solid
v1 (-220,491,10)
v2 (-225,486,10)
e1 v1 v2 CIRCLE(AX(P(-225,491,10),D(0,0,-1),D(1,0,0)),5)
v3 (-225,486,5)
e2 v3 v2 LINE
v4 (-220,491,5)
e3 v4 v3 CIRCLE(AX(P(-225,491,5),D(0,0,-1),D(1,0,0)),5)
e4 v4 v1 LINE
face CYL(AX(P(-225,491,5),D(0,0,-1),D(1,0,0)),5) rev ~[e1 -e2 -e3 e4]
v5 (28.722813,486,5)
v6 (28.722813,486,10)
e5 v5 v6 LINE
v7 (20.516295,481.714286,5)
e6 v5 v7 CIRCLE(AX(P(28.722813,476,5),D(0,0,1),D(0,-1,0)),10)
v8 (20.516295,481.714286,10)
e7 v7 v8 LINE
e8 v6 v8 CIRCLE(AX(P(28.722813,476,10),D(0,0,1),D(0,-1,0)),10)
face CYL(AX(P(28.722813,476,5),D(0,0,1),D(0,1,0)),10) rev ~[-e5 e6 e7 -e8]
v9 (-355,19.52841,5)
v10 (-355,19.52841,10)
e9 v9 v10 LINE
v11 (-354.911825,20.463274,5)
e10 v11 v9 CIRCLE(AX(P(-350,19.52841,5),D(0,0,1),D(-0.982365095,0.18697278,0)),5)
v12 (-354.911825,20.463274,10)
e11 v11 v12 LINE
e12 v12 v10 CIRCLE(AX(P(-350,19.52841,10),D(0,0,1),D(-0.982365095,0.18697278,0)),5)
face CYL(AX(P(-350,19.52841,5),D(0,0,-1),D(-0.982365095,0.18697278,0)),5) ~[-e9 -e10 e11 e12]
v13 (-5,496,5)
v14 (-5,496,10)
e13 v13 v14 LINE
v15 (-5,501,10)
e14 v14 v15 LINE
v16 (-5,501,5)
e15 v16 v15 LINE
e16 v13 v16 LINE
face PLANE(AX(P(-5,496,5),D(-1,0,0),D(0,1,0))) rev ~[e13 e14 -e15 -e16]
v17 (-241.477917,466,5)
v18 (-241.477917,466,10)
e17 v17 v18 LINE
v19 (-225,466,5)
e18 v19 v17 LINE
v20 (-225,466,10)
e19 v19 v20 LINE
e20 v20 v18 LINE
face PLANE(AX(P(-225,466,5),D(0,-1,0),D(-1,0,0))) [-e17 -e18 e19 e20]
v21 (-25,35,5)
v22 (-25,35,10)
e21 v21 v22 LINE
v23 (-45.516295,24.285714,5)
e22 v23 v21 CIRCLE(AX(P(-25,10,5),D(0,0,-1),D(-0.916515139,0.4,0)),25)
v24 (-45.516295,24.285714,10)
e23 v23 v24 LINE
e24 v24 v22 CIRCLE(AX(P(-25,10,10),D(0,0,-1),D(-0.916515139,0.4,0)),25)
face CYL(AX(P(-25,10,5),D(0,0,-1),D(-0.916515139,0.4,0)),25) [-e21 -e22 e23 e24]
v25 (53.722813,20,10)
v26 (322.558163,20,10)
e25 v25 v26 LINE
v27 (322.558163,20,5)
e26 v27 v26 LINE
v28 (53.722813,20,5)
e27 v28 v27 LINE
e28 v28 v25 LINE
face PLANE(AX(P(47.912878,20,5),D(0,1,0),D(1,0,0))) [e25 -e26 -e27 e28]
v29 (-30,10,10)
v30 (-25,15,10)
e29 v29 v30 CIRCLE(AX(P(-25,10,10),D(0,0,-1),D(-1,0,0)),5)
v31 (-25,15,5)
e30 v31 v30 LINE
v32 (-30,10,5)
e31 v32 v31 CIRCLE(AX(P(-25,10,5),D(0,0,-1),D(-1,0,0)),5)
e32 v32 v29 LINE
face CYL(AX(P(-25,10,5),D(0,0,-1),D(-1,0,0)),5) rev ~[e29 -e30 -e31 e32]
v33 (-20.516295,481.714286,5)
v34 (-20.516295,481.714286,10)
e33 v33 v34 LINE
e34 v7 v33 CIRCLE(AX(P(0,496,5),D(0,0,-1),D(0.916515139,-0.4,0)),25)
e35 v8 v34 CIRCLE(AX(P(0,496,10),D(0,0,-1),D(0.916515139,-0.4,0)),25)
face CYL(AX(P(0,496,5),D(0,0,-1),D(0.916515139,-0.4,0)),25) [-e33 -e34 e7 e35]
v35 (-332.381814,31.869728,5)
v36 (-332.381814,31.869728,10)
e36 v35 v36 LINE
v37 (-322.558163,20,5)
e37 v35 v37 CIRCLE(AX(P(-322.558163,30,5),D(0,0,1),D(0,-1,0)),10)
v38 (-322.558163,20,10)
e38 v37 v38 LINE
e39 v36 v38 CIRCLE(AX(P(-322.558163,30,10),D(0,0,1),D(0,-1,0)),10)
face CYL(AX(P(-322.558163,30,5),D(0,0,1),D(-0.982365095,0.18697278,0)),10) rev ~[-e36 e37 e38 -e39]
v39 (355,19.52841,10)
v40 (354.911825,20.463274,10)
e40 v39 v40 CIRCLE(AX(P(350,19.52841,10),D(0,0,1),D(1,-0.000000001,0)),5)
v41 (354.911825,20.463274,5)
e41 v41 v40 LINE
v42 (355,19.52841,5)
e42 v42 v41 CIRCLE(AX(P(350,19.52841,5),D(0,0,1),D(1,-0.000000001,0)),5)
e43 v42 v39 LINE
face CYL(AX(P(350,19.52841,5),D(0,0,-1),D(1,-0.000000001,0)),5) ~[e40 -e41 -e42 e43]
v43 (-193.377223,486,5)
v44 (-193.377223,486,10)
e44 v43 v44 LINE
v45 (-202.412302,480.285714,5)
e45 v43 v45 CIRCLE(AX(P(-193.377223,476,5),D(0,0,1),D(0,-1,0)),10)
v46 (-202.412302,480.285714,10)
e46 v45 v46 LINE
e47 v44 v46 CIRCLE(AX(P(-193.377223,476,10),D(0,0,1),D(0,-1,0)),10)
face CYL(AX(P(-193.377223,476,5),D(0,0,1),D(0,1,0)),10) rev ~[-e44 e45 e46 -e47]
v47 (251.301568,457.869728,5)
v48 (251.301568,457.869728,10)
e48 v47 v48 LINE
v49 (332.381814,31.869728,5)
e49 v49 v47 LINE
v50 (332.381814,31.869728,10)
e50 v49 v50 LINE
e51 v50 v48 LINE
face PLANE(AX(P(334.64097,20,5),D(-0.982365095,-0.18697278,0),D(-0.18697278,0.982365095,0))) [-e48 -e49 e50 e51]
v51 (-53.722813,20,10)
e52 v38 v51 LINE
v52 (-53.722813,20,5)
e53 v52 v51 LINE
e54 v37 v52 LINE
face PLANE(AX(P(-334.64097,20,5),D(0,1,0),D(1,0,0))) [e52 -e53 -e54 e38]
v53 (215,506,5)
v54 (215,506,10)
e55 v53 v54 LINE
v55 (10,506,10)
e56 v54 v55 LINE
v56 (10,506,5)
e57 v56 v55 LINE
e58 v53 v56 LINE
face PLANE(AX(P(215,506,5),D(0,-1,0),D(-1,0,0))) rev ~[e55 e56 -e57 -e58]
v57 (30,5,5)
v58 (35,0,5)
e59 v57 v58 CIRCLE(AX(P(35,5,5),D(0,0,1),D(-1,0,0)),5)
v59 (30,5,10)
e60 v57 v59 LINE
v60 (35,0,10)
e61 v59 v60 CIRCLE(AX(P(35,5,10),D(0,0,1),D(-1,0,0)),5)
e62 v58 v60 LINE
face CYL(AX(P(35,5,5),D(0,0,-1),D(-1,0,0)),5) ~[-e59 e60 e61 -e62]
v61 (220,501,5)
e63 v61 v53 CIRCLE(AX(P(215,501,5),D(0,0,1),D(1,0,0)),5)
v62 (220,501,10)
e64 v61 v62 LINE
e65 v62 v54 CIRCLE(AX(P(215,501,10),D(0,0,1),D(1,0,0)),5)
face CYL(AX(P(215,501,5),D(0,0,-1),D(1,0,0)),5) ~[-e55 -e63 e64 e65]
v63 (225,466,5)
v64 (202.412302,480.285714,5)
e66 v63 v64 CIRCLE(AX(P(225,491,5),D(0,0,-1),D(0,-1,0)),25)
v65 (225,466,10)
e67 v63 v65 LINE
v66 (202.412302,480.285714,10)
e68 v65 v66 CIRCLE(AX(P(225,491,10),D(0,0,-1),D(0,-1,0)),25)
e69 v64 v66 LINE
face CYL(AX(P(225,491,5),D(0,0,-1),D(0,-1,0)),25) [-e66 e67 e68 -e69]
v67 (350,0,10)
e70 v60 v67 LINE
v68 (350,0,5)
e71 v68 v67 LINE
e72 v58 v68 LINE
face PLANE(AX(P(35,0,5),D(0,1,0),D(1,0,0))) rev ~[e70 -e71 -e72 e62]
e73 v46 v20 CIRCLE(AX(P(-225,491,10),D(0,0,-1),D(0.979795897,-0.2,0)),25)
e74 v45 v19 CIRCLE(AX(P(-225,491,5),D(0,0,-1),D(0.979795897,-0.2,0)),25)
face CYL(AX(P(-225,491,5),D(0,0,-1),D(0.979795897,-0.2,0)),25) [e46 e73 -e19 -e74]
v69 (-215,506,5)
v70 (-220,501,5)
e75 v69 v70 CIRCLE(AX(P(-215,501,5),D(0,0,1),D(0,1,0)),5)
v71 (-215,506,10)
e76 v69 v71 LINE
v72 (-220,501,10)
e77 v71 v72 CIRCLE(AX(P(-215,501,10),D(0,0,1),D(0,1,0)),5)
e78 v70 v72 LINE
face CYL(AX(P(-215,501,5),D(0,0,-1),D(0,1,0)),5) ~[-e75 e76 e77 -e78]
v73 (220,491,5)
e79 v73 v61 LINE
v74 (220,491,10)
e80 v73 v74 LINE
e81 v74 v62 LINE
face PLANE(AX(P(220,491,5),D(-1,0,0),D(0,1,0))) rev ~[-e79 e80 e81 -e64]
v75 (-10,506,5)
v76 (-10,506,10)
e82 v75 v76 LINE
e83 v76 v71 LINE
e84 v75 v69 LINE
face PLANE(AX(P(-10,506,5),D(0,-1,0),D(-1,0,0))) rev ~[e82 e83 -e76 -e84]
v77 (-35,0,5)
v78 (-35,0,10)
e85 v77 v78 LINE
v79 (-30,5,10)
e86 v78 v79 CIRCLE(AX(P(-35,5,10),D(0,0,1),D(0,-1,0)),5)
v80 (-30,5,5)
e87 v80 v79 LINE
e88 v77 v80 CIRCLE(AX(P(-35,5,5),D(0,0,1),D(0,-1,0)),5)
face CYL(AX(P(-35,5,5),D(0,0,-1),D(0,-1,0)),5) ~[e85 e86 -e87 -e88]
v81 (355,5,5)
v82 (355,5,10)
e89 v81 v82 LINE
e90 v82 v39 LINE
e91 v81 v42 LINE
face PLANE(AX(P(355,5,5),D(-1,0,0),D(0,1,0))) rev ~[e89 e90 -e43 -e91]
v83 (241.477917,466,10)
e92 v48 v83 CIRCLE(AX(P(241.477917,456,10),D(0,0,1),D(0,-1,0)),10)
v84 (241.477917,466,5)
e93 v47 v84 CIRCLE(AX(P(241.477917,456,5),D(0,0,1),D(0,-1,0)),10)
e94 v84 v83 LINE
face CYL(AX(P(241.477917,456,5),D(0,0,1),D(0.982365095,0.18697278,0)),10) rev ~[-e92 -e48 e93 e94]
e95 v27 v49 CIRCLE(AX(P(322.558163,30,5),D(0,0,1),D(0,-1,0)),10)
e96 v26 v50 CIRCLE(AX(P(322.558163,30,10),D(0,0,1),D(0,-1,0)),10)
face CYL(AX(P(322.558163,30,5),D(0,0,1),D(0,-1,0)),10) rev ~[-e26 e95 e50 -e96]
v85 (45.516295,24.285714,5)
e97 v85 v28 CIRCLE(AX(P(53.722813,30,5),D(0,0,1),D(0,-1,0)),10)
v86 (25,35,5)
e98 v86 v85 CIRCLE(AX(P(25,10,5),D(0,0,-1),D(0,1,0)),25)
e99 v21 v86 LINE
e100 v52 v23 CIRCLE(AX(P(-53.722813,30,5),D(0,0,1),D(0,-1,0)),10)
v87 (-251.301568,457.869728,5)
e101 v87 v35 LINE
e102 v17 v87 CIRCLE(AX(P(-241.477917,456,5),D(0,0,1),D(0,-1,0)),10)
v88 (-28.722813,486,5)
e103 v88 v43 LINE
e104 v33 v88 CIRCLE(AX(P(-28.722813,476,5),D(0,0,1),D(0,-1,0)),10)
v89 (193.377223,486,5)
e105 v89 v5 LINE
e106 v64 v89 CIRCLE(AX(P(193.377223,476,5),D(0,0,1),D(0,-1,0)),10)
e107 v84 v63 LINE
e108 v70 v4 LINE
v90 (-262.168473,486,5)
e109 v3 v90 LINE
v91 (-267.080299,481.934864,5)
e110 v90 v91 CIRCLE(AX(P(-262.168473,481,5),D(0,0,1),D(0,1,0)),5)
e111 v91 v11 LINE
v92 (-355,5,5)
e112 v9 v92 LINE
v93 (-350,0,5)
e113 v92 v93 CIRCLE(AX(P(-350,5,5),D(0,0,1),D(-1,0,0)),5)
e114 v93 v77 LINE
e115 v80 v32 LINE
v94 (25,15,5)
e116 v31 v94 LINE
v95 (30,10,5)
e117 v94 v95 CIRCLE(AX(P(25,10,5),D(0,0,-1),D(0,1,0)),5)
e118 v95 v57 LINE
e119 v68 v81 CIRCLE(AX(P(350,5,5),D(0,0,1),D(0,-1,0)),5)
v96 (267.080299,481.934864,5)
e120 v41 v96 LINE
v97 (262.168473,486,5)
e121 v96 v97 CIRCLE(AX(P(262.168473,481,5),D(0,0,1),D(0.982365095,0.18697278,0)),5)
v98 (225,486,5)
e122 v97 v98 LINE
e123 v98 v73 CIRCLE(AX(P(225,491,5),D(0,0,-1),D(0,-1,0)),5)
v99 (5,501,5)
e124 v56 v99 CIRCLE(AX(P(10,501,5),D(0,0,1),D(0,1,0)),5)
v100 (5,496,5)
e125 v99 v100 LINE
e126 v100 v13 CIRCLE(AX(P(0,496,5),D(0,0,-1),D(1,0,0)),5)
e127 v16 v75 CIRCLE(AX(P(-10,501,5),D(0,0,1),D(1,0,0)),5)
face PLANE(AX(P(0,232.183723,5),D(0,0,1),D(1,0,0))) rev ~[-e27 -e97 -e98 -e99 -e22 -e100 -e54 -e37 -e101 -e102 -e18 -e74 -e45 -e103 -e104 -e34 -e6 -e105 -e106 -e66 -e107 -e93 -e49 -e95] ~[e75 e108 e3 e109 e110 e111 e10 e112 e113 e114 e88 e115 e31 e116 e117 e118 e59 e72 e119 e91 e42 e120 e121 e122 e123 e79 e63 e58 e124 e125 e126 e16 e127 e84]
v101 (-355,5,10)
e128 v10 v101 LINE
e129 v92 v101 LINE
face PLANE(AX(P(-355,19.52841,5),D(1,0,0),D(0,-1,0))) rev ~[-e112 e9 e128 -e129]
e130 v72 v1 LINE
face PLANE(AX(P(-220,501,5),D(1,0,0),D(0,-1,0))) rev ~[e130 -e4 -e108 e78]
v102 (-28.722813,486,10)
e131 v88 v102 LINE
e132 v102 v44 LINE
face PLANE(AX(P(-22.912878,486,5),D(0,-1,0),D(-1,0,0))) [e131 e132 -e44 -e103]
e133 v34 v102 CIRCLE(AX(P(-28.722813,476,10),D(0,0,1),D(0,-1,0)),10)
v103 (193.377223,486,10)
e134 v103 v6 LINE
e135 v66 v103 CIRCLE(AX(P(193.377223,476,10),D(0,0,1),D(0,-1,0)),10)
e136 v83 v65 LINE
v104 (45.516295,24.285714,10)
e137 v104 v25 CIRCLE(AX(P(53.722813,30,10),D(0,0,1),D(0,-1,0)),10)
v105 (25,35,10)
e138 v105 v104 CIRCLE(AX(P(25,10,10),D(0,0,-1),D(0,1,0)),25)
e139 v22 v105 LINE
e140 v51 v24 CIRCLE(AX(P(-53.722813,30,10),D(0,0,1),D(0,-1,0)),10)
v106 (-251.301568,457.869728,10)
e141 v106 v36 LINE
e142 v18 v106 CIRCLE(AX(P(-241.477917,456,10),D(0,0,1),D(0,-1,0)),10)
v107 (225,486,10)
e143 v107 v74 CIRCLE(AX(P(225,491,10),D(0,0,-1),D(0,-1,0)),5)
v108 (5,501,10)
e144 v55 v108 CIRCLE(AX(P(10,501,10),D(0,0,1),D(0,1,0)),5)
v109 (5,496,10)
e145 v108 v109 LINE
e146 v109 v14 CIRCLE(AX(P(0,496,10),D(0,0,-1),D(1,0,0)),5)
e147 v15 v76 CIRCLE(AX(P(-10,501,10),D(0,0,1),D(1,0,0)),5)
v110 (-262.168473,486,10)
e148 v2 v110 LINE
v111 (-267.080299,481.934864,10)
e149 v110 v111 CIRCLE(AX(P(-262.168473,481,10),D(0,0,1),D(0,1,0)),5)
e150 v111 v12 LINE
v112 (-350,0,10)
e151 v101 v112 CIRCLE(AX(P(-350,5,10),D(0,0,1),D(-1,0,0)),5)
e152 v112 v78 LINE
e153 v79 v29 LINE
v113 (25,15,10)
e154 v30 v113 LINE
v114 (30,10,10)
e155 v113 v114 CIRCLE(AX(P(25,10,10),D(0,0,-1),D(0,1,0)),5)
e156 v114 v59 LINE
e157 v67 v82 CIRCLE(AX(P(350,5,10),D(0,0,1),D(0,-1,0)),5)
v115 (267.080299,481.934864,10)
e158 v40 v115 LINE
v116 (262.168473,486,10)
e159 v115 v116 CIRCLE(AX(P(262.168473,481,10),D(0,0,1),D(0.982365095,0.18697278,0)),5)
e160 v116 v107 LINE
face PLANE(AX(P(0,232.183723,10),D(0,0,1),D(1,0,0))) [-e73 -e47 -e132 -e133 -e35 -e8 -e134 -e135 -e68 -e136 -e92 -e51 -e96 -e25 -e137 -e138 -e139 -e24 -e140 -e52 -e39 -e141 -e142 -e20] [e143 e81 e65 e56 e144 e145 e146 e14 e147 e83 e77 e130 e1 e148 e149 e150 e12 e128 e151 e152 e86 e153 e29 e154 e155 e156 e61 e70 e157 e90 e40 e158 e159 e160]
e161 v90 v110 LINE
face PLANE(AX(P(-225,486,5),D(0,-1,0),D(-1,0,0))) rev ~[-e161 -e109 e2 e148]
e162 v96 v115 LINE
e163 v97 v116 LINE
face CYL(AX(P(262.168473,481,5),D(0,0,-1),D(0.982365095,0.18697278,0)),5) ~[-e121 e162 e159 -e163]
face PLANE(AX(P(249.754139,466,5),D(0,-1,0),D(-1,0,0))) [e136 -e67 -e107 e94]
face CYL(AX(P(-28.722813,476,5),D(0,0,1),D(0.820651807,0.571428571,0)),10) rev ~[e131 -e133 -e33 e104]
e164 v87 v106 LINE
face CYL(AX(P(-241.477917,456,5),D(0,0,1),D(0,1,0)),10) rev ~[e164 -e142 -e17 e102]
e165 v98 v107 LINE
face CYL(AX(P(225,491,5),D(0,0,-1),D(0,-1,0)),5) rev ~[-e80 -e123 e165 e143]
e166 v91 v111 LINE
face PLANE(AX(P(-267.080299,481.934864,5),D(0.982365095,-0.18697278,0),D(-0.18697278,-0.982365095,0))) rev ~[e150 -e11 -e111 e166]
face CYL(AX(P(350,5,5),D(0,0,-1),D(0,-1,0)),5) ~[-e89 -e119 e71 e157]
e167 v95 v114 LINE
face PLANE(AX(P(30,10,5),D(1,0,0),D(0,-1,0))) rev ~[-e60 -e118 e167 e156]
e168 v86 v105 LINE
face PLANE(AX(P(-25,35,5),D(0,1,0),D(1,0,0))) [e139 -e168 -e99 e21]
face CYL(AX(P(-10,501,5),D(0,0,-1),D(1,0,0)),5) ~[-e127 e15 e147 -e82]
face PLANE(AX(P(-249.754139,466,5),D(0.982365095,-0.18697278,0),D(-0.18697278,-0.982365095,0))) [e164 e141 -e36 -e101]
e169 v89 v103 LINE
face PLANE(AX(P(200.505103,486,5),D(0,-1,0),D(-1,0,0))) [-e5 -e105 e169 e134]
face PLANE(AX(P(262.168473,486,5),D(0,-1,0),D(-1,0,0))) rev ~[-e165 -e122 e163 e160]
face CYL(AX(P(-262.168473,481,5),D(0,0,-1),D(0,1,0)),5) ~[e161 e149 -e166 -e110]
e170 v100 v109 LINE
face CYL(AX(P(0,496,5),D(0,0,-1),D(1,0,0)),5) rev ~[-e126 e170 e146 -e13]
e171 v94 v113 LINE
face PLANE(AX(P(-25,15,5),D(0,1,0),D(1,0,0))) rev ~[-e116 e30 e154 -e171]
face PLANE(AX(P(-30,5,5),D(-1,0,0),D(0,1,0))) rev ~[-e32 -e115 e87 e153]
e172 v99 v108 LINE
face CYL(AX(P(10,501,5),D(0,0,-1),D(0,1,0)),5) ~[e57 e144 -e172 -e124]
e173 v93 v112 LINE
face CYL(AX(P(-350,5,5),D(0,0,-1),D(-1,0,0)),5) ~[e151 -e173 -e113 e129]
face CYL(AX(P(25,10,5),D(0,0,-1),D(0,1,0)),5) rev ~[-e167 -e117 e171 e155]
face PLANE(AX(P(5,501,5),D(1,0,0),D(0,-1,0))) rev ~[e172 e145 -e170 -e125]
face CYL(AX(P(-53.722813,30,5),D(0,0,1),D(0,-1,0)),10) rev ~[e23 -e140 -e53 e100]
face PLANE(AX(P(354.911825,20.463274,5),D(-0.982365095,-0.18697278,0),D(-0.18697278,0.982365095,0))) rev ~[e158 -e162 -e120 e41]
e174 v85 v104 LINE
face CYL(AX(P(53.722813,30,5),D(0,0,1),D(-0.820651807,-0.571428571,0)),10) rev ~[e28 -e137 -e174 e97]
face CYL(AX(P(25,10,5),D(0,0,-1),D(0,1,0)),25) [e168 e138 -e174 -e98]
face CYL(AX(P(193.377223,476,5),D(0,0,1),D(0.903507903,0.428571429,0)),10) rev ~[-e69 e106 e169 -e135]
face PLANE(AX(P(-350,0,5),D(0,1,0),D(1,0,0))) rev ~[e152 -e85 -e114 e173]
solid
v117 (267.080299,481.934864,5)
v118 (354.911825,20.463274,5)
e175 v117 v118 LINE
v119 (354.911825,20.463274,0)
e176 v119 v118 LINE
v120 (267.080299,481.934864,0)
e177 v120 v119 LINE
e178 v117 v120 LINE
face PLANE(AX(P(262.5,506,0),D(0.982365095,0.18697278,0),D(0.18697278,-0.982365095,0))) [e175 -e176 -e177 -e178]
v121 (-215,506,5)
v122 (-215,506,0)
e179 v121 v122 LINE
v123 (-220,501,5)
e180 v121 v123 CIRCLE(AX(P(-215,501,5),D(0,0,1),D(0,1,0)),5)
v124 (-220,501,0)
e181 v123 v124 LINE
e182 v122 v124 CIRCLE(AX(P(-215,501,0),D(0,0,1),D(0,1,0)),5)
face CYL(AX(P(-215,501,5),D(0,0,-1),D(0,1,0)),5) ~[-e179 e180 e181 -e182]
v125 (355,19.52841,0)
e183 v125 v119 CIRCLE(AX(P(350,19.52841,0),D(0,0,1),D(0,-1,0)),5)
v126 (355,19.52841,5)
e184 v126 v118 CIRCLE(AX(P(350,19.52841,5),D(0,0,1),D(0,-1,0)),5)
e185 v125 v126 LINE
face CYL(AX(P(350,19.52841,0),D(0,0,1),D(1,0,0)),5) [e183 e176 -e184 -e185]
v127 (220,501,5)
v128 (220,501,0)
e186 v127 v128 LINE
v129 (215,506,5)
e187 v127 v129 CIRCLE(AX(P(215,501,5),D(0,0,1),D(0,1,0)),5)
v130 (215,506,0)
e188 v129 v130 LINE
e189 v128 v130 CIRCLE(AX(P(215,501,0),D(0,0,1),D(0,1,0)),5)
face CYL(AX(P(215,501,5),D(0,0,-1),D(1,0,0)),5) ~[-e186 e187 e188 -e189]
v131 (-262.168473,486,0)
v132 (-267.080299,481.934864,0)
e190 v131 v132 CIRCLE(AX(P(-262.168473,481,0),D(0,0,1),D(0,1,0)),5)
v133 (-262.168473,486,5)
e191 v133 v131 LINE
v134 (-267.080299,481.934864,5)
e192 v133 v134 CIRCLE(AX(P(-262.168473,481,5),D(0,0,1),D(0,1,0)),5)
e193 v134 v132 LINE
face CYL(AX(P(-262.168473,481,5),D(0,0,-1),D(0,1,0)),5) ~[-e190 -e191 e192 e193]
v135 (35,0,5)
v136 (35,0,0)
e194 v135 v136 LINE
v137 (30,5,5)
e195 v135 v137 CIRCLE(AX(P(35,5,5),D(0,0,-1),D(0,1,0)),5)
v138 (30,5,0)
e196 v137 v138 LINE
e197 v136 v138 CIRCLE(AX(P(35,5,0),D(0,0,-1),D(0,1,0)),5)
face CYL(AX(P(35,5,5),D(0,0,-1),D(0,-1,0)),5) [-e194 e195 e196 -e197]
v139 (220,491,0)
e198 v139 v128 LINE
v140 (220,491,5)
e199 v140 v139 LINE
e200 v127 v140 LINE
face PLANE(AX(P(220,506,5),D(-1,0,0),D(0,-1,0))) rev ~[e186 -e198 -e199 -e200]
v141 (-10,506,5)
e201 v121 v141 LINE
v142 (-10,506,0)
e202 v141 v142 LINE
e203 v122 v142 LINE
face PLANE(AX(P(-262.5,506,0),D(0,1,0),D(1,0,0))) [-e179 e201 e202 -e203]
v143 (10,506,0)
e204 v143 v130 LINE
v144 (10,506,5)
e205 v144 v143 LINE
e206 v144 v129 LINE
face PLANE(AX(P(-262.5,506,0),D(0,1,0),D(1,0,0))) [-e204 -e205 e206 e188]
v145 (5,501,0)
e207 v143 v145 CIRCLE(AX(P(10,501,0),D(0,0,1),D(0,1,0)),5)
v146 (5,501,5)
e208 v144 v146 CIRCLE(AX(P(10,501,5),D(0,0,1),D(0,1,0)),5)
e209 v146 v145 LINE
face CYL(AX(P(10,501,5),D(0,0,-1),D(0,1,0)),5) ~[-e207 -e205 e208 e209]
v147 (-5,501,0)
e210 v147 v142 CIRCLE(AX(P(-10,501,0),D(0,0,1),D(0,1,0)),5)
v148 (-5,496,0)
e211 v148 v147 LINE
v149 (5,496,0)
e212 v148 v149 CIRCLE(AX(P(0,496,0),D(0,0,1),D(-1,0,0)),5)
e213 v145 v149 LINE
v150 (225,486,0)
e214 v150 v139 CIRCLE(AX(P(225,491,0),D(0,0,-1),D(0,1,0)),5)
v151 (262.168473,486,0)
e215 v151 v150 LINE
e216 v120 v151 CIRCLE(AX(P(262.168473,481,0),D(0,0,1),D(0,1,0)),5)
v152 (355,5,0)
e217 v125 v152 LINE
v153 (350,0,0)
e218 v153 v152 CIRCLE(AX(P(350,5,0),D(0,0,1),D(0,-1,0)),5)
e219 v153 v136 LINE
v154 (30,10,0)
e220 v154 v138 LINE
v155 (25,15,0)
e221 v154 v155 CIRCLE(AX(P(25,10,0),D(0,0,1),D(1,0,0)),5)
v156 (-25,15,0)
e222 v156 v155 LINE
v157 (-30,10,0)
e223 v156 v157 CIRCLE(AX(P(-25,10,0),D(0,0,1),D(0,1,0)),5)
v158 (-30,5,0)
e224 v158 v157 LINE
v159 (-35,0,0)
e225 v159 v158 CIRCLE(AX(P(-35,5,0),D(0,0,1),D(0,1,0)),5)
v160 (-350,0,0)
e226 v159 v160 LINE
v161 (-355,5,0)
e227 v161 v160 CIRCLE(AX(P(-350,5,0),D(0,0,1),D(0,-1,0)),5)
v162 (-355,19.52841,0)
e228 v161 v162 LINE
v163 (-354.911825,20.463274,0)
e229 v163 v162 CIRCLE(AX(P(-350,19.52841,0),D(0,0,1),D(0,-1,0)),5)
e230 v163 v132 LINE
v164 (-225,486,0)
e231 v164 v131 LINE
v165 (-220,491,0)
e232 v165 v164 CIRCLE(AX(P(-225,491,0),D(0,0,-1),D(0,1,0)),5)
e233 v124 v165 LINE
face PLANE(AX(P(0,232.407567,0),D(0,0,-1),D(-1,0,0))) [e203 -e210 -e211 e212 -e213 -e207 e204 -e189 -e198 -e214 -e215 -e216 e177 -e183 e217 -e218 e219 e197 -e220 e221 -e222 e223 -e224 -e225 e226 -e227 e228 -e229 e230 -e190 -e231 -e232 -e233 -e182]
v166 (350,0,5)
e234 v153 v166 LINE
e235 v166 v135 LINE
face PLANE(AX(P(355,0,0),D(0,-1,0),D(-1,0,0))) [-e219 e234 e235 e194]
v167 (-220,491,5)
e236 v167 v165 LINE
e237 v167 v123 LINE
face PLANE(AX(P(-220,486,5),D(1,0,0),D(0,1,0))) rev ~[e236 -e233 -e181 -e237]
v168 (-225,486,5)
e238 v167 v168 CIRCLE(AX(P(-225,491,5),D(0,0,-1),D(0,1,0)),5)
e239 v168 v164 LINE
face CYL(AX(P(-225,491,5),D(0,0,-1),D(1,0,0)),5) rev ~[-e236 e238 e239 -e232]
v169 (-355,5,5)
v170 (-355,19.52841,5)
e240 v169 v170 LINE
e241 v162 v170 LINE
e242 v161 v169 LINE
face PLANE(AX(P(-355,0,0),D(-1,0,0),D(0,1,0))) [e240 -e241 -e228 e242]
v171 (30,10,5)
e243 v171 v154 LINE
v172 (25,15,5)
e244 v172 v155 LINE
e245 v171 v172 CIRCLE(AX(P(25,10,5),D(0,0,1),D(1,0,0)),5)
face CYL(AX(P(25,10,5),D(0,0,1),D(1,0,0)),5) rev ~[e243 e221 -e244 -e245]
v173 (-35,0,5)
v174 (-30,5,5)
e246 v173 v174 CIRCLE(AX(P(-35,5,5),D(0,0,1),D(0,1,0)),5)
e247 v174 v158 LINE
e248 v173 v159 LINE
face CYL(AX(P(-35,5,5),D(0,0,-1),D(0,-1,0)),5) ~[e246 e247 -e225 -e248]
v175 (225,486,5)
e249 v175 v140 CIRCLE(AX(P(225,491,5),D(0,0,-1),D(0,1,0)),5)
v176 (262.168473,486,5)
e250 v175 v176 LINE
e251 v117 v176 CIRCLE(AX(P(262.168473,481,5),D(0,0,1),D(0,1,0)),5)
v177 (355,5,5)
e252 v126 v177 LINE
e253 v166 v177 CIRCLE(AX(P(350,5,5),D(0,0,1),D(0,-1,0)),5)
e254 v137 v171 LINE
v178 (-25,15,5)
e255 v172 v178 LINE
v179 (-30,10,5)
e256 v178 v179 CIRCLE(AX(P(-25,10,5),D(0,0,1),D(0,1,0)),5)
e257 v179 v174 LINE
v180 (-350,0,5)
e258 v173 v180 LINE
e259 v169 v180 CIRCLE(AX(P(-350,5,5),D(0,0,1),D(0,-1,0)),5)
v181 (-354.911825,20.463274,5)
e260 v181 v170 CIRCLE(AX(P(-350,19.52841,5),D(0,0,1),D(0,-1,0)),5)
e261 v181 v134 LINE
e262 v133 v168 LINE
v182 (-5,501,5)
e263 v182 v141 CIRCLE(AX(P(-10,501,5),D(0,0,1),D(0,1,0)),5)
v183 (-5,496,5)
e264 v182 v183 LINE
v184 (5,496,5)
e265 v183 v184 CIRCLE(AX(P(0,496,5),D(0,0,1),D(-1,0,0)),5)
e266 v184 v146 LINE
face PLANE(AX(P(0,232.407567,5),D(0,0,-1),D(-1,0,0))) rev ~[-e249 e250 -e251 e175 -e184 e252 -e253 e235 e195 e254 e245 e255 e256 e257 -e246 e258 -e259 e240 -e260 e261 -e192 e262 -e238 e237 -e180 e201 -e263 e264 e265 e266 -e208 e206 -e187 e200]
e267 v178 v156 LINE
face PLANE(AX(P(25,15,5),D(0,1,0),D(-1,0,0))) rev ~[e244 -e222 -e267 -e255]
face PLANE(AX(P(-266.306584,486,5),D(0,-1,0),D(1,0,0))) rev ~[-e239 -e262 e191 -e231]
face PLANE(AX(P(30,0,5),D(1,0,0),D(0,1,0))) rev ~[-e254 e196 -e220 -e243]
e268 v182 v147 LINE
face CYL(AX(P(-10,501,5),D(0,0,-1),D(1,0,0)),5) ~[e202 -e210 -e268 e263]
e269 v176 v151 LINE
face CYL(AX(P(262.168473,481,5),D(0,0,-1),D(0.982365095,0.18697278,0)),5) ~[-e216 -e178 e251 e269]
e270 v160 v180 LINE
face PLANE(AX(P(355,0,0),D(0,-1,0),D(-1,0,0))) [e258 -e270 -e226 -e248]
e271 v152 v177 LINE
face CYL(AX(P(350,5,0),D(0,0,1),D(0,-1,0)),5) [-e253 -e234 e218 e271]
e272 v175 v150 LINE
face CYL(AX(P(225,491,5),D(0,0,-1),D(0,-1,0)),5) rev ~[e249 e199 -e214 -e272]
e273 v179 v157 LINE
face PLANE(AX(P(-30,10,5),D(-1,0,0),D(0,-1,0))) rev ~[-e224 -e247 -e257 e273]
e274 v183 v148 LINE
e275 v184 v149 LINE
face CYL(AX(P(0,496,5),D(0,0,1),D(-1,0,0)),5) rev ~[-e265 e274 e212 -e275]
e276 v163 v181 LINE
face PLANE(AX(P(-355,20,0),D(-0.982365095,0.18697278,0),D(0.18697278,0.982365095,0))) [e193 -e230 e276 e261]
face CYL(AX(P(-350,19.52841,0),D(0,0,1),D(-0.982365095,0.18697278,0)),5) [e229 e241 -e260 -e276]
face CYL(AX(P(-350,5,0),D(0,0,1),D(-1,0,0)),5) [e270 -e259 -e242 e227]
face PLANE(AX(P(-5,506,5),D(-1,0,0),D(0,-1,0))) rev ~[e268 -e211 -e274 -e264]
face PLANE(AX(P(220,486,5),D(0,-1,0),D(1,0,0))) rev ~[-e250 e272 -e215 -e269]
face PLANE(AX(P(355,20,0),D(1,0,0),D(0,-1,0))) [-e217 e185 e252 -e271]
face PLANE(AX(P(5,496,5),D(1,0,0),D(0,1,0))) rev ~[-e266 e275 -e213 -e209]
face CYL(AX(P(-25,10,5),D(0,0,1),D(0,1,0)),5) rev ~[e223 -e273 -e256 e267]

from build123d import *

# Parameters (mm, degrees)
EXTRUDE_1_DEPTH     = 5
CUT_EXTRUDE_1_DEPTH = 619.131054065
FILLET_1_R          = 5
EXTRUDE_2_DEPTH     = 5
FILLET_2_R          = 10


with BuildPart() as part:
    # ｽｹｯﾁ2 → ﾎﾞｽ - 押し出し1 (new body)
    with BuildSketch(Plane.XY):
        Polygon((355, 0), (-355, 0), (-355, 20), (-262.5, 506), (262.5, 506), (355, 20), align=None)
    extrude(amount=EXTRUDE_1_DEPTH)

    # ｽｹｯﾁ3 → ｶｯﾄ - 押し出し1 (cut, through all)
    with BuildSketch(Plane.XY.offset(5)):
        Polygon((-262.5, 506), (-266.306584362, 486), (-220, 486), (-220, 506), align=None)
        Polygon((262.5, 506), (220, 506), (220, 486), (266.306584362, 486), align=None)
        with BuildLine():
            Line((5, 506), (-5, 506))
            Line((-5, 506), (-5, 496))
            ThreePointArc((-5, 496), (0, 491), (5, 496))
            Line((5, 496), (5, 506))
        make_face()
        with BuildLine():
            Line((-30, 10), (-30, 0))
            Line((-30, 0), (30, 0))
            Line((30, 0), (30, 10))
            ThreePointArc((30, 10), (28.535533906, 13.535533906), (25, 15))
            Line((25, 15), (-25, 15))
            ThreePointArc((-25, 15), (-28.535533906, 13.535533906), (-30, 10))
        make_face()
    extrude(amount=-CUT_EXTRUDE_1_DEPTH, mode=Mode.SUBTRACT)

    # ﾌｨﾚｯﾄ1
    fillet_1_edges = [part.edges().sort_by_distance(p)[0] for p in [
        (-355, 20, 2.5),
        (355, 20, 2.5),
        (355, 0, 2.5),
        (-355, 0, 2.5),
        (-220, 486, 2.5),
        (-266.306584362, 486, 2.5),
        (-220, 506, 2.5),
        (266.306584362, 486, 2.5),
        (220, 486, 2.5),
        (220, 506, 2.5),
        (-5, 506, 2.5),
        (5, 506, 2.5),
        (30, 0, 2.5),
        (-30, 0, 2.5),
    ]]
    fillet(fillet_1_edges, radius=FILLET_1_R)


with BuildPart() as body_2:
    # ｽｹｯﾁ4 → ﾎﾞｽ - 押し出し2 (new body)
    with BuildSketch(Plane.XY.offset(5)):
        with BuildLine():
            Line((30, 10), (30, 5))
            ThreePointArc((30, 5), (31.464466094, 1.464466094), (35, 0))
            Line((35, 0), (350, 0))
            ThreePointArc((350, 0), (353.535533906, 1.464466094), (355, 5))
            Line((355, 5), (355, 19.528409825))
            ThreePointArc((355, 19.528409825), (354.977907561, 19.997916285), (354.911825474, 20.463273727))
            Line((354.911825474, 20.463273727), (267.080298537, 481.934863902))
            ThreePointArc((267.080298537, 481.934863902), (265.356394054, 484.851903394), (262.168473063, 486))
            Line((262.168473063, 486), (225, 486))
            ThreePointArc((225, 486), (221.464466094, 487.464466094), (220, 491))
            Line((220, 491), (220, 501))
            ThreePointArc((220, 501), (218.535533906, 504.535533906), (215, 506))
            Line((215, 506), (10, 506))
            ThreePointArc((10, 506), (6.464466094, 504.535533906), (5, 501))
            Line((5, 501), (5, 496))
            ThreePointArc((5, 496), (0, 491), (-5, 496))
            Line((-5, 496), (-5, 501))
            ThreePointArc((-5, 501), (-6.464466094, 504.535533906), (-10, 506))
            Line((-10, 506), (-215, 506))
            ThreePointArc((-215, 506), (-218.535533906, 504.535533906), (-220, 501))
            Line((-220, 501), (-220, 491))
            ThreePointArc((-220, 491), (-221.464466094, 487.464466094), (-225, 486))
            Line((-225, 486), (-262.168473063, 486))
            ThreePointArc((-262.168473063, 486), (-265.356394054, 484.851903394), (-267.080298537, 481.934863902))
            Line((-267.080298537, 481.934863902), (-354.911825474, 20.463273727))
            ThreePointArc((-354.911825474, 20.463273727), (-354.977907561, 19.997916285), (-355, 19.528409825))
            Line((-355, 19.528409825), (-355, 5))
            ThreePointArc((-355, 5), (-353.535533906, 1.464466094), (-350, 0))
            Line((-350, 0), (-35, 0))
            ThreePointArc((-35, 0), (-31.464466094, 1.464466094), (-30, 5))
            Line((-30, 5), (-30, 10))
            ThreePointArc((-30, 10), (-28.535533906, 13.535533906), (-25, 15))
            Line((-25, 15), (25, 15))
            ThreePointArc((25, 15), (28.535533906, 13.535533906), (30, 10))
        make_face()
        with BuildLine():
            Line((-225, 466), (-249.754139167, 466))
            Line((-249.754139167, 466), (-334.640970443, 20))
            Line((-334.640970443, 20), (-47.912878475, 20))
            ThreePointArc((-47.912878475, 20), (-38.693063938, 30.916500663), (-25, 35))
            Line((-25, 35), (25, 35))
            ThreePointArc((25, 35), (38.693063938, 30.916500663), (47.912878475, 20))
            Line((47.912878475, 20), (334.640970443, 20))
            Line((334.640970443, 20), (249.754139167, 466))
            Line((249.754139167, 466), (225, 466))
            ThreePointArc((225, 466), (209.188611699, 471.635083269), (200.505102572, 486))
            Line((200.505102572, 486), (22.912878475, 486))
            ThreePointArc((22.912878475, 486), (0, 471), (-22.912878475, 486))
            Line((-22.912878475, 486), (-200.505102572, 486))
            ThreePointArc((-200.505102572, 486), (-209.188611699, 471.635083269), (-225, 466))
        make_face(mode=Mode.SUBTRACT)
    extrude(amount=EXTRUDE_2_DEPTH)

    # ﾌｨﾚｯﾄ2
    fillet_2_edges = [body_2.edges().sort_by_distance(p)[0] for p in [
        (-200.505102572, 486, 7.5),
        (-249.754139167, 466, 7.5),
        (-334.640970443, 20, 7.5),
        (-47.912878475, 20, 7.5),
        (47.912878475, 20, 7.5),
        (334.640970443, 20, 7.5),
        (249.754139167, 466, 7.5),
        (200.505102572, 486, 7.5),
        (22.912878475, 486, 7.5),
        (-22.912878475, 486, 7.5),
    ]]
    fillet(fillet_2_edges, radius=FILLET_2_R)


solid = Compound([part.part, body_2.part])
